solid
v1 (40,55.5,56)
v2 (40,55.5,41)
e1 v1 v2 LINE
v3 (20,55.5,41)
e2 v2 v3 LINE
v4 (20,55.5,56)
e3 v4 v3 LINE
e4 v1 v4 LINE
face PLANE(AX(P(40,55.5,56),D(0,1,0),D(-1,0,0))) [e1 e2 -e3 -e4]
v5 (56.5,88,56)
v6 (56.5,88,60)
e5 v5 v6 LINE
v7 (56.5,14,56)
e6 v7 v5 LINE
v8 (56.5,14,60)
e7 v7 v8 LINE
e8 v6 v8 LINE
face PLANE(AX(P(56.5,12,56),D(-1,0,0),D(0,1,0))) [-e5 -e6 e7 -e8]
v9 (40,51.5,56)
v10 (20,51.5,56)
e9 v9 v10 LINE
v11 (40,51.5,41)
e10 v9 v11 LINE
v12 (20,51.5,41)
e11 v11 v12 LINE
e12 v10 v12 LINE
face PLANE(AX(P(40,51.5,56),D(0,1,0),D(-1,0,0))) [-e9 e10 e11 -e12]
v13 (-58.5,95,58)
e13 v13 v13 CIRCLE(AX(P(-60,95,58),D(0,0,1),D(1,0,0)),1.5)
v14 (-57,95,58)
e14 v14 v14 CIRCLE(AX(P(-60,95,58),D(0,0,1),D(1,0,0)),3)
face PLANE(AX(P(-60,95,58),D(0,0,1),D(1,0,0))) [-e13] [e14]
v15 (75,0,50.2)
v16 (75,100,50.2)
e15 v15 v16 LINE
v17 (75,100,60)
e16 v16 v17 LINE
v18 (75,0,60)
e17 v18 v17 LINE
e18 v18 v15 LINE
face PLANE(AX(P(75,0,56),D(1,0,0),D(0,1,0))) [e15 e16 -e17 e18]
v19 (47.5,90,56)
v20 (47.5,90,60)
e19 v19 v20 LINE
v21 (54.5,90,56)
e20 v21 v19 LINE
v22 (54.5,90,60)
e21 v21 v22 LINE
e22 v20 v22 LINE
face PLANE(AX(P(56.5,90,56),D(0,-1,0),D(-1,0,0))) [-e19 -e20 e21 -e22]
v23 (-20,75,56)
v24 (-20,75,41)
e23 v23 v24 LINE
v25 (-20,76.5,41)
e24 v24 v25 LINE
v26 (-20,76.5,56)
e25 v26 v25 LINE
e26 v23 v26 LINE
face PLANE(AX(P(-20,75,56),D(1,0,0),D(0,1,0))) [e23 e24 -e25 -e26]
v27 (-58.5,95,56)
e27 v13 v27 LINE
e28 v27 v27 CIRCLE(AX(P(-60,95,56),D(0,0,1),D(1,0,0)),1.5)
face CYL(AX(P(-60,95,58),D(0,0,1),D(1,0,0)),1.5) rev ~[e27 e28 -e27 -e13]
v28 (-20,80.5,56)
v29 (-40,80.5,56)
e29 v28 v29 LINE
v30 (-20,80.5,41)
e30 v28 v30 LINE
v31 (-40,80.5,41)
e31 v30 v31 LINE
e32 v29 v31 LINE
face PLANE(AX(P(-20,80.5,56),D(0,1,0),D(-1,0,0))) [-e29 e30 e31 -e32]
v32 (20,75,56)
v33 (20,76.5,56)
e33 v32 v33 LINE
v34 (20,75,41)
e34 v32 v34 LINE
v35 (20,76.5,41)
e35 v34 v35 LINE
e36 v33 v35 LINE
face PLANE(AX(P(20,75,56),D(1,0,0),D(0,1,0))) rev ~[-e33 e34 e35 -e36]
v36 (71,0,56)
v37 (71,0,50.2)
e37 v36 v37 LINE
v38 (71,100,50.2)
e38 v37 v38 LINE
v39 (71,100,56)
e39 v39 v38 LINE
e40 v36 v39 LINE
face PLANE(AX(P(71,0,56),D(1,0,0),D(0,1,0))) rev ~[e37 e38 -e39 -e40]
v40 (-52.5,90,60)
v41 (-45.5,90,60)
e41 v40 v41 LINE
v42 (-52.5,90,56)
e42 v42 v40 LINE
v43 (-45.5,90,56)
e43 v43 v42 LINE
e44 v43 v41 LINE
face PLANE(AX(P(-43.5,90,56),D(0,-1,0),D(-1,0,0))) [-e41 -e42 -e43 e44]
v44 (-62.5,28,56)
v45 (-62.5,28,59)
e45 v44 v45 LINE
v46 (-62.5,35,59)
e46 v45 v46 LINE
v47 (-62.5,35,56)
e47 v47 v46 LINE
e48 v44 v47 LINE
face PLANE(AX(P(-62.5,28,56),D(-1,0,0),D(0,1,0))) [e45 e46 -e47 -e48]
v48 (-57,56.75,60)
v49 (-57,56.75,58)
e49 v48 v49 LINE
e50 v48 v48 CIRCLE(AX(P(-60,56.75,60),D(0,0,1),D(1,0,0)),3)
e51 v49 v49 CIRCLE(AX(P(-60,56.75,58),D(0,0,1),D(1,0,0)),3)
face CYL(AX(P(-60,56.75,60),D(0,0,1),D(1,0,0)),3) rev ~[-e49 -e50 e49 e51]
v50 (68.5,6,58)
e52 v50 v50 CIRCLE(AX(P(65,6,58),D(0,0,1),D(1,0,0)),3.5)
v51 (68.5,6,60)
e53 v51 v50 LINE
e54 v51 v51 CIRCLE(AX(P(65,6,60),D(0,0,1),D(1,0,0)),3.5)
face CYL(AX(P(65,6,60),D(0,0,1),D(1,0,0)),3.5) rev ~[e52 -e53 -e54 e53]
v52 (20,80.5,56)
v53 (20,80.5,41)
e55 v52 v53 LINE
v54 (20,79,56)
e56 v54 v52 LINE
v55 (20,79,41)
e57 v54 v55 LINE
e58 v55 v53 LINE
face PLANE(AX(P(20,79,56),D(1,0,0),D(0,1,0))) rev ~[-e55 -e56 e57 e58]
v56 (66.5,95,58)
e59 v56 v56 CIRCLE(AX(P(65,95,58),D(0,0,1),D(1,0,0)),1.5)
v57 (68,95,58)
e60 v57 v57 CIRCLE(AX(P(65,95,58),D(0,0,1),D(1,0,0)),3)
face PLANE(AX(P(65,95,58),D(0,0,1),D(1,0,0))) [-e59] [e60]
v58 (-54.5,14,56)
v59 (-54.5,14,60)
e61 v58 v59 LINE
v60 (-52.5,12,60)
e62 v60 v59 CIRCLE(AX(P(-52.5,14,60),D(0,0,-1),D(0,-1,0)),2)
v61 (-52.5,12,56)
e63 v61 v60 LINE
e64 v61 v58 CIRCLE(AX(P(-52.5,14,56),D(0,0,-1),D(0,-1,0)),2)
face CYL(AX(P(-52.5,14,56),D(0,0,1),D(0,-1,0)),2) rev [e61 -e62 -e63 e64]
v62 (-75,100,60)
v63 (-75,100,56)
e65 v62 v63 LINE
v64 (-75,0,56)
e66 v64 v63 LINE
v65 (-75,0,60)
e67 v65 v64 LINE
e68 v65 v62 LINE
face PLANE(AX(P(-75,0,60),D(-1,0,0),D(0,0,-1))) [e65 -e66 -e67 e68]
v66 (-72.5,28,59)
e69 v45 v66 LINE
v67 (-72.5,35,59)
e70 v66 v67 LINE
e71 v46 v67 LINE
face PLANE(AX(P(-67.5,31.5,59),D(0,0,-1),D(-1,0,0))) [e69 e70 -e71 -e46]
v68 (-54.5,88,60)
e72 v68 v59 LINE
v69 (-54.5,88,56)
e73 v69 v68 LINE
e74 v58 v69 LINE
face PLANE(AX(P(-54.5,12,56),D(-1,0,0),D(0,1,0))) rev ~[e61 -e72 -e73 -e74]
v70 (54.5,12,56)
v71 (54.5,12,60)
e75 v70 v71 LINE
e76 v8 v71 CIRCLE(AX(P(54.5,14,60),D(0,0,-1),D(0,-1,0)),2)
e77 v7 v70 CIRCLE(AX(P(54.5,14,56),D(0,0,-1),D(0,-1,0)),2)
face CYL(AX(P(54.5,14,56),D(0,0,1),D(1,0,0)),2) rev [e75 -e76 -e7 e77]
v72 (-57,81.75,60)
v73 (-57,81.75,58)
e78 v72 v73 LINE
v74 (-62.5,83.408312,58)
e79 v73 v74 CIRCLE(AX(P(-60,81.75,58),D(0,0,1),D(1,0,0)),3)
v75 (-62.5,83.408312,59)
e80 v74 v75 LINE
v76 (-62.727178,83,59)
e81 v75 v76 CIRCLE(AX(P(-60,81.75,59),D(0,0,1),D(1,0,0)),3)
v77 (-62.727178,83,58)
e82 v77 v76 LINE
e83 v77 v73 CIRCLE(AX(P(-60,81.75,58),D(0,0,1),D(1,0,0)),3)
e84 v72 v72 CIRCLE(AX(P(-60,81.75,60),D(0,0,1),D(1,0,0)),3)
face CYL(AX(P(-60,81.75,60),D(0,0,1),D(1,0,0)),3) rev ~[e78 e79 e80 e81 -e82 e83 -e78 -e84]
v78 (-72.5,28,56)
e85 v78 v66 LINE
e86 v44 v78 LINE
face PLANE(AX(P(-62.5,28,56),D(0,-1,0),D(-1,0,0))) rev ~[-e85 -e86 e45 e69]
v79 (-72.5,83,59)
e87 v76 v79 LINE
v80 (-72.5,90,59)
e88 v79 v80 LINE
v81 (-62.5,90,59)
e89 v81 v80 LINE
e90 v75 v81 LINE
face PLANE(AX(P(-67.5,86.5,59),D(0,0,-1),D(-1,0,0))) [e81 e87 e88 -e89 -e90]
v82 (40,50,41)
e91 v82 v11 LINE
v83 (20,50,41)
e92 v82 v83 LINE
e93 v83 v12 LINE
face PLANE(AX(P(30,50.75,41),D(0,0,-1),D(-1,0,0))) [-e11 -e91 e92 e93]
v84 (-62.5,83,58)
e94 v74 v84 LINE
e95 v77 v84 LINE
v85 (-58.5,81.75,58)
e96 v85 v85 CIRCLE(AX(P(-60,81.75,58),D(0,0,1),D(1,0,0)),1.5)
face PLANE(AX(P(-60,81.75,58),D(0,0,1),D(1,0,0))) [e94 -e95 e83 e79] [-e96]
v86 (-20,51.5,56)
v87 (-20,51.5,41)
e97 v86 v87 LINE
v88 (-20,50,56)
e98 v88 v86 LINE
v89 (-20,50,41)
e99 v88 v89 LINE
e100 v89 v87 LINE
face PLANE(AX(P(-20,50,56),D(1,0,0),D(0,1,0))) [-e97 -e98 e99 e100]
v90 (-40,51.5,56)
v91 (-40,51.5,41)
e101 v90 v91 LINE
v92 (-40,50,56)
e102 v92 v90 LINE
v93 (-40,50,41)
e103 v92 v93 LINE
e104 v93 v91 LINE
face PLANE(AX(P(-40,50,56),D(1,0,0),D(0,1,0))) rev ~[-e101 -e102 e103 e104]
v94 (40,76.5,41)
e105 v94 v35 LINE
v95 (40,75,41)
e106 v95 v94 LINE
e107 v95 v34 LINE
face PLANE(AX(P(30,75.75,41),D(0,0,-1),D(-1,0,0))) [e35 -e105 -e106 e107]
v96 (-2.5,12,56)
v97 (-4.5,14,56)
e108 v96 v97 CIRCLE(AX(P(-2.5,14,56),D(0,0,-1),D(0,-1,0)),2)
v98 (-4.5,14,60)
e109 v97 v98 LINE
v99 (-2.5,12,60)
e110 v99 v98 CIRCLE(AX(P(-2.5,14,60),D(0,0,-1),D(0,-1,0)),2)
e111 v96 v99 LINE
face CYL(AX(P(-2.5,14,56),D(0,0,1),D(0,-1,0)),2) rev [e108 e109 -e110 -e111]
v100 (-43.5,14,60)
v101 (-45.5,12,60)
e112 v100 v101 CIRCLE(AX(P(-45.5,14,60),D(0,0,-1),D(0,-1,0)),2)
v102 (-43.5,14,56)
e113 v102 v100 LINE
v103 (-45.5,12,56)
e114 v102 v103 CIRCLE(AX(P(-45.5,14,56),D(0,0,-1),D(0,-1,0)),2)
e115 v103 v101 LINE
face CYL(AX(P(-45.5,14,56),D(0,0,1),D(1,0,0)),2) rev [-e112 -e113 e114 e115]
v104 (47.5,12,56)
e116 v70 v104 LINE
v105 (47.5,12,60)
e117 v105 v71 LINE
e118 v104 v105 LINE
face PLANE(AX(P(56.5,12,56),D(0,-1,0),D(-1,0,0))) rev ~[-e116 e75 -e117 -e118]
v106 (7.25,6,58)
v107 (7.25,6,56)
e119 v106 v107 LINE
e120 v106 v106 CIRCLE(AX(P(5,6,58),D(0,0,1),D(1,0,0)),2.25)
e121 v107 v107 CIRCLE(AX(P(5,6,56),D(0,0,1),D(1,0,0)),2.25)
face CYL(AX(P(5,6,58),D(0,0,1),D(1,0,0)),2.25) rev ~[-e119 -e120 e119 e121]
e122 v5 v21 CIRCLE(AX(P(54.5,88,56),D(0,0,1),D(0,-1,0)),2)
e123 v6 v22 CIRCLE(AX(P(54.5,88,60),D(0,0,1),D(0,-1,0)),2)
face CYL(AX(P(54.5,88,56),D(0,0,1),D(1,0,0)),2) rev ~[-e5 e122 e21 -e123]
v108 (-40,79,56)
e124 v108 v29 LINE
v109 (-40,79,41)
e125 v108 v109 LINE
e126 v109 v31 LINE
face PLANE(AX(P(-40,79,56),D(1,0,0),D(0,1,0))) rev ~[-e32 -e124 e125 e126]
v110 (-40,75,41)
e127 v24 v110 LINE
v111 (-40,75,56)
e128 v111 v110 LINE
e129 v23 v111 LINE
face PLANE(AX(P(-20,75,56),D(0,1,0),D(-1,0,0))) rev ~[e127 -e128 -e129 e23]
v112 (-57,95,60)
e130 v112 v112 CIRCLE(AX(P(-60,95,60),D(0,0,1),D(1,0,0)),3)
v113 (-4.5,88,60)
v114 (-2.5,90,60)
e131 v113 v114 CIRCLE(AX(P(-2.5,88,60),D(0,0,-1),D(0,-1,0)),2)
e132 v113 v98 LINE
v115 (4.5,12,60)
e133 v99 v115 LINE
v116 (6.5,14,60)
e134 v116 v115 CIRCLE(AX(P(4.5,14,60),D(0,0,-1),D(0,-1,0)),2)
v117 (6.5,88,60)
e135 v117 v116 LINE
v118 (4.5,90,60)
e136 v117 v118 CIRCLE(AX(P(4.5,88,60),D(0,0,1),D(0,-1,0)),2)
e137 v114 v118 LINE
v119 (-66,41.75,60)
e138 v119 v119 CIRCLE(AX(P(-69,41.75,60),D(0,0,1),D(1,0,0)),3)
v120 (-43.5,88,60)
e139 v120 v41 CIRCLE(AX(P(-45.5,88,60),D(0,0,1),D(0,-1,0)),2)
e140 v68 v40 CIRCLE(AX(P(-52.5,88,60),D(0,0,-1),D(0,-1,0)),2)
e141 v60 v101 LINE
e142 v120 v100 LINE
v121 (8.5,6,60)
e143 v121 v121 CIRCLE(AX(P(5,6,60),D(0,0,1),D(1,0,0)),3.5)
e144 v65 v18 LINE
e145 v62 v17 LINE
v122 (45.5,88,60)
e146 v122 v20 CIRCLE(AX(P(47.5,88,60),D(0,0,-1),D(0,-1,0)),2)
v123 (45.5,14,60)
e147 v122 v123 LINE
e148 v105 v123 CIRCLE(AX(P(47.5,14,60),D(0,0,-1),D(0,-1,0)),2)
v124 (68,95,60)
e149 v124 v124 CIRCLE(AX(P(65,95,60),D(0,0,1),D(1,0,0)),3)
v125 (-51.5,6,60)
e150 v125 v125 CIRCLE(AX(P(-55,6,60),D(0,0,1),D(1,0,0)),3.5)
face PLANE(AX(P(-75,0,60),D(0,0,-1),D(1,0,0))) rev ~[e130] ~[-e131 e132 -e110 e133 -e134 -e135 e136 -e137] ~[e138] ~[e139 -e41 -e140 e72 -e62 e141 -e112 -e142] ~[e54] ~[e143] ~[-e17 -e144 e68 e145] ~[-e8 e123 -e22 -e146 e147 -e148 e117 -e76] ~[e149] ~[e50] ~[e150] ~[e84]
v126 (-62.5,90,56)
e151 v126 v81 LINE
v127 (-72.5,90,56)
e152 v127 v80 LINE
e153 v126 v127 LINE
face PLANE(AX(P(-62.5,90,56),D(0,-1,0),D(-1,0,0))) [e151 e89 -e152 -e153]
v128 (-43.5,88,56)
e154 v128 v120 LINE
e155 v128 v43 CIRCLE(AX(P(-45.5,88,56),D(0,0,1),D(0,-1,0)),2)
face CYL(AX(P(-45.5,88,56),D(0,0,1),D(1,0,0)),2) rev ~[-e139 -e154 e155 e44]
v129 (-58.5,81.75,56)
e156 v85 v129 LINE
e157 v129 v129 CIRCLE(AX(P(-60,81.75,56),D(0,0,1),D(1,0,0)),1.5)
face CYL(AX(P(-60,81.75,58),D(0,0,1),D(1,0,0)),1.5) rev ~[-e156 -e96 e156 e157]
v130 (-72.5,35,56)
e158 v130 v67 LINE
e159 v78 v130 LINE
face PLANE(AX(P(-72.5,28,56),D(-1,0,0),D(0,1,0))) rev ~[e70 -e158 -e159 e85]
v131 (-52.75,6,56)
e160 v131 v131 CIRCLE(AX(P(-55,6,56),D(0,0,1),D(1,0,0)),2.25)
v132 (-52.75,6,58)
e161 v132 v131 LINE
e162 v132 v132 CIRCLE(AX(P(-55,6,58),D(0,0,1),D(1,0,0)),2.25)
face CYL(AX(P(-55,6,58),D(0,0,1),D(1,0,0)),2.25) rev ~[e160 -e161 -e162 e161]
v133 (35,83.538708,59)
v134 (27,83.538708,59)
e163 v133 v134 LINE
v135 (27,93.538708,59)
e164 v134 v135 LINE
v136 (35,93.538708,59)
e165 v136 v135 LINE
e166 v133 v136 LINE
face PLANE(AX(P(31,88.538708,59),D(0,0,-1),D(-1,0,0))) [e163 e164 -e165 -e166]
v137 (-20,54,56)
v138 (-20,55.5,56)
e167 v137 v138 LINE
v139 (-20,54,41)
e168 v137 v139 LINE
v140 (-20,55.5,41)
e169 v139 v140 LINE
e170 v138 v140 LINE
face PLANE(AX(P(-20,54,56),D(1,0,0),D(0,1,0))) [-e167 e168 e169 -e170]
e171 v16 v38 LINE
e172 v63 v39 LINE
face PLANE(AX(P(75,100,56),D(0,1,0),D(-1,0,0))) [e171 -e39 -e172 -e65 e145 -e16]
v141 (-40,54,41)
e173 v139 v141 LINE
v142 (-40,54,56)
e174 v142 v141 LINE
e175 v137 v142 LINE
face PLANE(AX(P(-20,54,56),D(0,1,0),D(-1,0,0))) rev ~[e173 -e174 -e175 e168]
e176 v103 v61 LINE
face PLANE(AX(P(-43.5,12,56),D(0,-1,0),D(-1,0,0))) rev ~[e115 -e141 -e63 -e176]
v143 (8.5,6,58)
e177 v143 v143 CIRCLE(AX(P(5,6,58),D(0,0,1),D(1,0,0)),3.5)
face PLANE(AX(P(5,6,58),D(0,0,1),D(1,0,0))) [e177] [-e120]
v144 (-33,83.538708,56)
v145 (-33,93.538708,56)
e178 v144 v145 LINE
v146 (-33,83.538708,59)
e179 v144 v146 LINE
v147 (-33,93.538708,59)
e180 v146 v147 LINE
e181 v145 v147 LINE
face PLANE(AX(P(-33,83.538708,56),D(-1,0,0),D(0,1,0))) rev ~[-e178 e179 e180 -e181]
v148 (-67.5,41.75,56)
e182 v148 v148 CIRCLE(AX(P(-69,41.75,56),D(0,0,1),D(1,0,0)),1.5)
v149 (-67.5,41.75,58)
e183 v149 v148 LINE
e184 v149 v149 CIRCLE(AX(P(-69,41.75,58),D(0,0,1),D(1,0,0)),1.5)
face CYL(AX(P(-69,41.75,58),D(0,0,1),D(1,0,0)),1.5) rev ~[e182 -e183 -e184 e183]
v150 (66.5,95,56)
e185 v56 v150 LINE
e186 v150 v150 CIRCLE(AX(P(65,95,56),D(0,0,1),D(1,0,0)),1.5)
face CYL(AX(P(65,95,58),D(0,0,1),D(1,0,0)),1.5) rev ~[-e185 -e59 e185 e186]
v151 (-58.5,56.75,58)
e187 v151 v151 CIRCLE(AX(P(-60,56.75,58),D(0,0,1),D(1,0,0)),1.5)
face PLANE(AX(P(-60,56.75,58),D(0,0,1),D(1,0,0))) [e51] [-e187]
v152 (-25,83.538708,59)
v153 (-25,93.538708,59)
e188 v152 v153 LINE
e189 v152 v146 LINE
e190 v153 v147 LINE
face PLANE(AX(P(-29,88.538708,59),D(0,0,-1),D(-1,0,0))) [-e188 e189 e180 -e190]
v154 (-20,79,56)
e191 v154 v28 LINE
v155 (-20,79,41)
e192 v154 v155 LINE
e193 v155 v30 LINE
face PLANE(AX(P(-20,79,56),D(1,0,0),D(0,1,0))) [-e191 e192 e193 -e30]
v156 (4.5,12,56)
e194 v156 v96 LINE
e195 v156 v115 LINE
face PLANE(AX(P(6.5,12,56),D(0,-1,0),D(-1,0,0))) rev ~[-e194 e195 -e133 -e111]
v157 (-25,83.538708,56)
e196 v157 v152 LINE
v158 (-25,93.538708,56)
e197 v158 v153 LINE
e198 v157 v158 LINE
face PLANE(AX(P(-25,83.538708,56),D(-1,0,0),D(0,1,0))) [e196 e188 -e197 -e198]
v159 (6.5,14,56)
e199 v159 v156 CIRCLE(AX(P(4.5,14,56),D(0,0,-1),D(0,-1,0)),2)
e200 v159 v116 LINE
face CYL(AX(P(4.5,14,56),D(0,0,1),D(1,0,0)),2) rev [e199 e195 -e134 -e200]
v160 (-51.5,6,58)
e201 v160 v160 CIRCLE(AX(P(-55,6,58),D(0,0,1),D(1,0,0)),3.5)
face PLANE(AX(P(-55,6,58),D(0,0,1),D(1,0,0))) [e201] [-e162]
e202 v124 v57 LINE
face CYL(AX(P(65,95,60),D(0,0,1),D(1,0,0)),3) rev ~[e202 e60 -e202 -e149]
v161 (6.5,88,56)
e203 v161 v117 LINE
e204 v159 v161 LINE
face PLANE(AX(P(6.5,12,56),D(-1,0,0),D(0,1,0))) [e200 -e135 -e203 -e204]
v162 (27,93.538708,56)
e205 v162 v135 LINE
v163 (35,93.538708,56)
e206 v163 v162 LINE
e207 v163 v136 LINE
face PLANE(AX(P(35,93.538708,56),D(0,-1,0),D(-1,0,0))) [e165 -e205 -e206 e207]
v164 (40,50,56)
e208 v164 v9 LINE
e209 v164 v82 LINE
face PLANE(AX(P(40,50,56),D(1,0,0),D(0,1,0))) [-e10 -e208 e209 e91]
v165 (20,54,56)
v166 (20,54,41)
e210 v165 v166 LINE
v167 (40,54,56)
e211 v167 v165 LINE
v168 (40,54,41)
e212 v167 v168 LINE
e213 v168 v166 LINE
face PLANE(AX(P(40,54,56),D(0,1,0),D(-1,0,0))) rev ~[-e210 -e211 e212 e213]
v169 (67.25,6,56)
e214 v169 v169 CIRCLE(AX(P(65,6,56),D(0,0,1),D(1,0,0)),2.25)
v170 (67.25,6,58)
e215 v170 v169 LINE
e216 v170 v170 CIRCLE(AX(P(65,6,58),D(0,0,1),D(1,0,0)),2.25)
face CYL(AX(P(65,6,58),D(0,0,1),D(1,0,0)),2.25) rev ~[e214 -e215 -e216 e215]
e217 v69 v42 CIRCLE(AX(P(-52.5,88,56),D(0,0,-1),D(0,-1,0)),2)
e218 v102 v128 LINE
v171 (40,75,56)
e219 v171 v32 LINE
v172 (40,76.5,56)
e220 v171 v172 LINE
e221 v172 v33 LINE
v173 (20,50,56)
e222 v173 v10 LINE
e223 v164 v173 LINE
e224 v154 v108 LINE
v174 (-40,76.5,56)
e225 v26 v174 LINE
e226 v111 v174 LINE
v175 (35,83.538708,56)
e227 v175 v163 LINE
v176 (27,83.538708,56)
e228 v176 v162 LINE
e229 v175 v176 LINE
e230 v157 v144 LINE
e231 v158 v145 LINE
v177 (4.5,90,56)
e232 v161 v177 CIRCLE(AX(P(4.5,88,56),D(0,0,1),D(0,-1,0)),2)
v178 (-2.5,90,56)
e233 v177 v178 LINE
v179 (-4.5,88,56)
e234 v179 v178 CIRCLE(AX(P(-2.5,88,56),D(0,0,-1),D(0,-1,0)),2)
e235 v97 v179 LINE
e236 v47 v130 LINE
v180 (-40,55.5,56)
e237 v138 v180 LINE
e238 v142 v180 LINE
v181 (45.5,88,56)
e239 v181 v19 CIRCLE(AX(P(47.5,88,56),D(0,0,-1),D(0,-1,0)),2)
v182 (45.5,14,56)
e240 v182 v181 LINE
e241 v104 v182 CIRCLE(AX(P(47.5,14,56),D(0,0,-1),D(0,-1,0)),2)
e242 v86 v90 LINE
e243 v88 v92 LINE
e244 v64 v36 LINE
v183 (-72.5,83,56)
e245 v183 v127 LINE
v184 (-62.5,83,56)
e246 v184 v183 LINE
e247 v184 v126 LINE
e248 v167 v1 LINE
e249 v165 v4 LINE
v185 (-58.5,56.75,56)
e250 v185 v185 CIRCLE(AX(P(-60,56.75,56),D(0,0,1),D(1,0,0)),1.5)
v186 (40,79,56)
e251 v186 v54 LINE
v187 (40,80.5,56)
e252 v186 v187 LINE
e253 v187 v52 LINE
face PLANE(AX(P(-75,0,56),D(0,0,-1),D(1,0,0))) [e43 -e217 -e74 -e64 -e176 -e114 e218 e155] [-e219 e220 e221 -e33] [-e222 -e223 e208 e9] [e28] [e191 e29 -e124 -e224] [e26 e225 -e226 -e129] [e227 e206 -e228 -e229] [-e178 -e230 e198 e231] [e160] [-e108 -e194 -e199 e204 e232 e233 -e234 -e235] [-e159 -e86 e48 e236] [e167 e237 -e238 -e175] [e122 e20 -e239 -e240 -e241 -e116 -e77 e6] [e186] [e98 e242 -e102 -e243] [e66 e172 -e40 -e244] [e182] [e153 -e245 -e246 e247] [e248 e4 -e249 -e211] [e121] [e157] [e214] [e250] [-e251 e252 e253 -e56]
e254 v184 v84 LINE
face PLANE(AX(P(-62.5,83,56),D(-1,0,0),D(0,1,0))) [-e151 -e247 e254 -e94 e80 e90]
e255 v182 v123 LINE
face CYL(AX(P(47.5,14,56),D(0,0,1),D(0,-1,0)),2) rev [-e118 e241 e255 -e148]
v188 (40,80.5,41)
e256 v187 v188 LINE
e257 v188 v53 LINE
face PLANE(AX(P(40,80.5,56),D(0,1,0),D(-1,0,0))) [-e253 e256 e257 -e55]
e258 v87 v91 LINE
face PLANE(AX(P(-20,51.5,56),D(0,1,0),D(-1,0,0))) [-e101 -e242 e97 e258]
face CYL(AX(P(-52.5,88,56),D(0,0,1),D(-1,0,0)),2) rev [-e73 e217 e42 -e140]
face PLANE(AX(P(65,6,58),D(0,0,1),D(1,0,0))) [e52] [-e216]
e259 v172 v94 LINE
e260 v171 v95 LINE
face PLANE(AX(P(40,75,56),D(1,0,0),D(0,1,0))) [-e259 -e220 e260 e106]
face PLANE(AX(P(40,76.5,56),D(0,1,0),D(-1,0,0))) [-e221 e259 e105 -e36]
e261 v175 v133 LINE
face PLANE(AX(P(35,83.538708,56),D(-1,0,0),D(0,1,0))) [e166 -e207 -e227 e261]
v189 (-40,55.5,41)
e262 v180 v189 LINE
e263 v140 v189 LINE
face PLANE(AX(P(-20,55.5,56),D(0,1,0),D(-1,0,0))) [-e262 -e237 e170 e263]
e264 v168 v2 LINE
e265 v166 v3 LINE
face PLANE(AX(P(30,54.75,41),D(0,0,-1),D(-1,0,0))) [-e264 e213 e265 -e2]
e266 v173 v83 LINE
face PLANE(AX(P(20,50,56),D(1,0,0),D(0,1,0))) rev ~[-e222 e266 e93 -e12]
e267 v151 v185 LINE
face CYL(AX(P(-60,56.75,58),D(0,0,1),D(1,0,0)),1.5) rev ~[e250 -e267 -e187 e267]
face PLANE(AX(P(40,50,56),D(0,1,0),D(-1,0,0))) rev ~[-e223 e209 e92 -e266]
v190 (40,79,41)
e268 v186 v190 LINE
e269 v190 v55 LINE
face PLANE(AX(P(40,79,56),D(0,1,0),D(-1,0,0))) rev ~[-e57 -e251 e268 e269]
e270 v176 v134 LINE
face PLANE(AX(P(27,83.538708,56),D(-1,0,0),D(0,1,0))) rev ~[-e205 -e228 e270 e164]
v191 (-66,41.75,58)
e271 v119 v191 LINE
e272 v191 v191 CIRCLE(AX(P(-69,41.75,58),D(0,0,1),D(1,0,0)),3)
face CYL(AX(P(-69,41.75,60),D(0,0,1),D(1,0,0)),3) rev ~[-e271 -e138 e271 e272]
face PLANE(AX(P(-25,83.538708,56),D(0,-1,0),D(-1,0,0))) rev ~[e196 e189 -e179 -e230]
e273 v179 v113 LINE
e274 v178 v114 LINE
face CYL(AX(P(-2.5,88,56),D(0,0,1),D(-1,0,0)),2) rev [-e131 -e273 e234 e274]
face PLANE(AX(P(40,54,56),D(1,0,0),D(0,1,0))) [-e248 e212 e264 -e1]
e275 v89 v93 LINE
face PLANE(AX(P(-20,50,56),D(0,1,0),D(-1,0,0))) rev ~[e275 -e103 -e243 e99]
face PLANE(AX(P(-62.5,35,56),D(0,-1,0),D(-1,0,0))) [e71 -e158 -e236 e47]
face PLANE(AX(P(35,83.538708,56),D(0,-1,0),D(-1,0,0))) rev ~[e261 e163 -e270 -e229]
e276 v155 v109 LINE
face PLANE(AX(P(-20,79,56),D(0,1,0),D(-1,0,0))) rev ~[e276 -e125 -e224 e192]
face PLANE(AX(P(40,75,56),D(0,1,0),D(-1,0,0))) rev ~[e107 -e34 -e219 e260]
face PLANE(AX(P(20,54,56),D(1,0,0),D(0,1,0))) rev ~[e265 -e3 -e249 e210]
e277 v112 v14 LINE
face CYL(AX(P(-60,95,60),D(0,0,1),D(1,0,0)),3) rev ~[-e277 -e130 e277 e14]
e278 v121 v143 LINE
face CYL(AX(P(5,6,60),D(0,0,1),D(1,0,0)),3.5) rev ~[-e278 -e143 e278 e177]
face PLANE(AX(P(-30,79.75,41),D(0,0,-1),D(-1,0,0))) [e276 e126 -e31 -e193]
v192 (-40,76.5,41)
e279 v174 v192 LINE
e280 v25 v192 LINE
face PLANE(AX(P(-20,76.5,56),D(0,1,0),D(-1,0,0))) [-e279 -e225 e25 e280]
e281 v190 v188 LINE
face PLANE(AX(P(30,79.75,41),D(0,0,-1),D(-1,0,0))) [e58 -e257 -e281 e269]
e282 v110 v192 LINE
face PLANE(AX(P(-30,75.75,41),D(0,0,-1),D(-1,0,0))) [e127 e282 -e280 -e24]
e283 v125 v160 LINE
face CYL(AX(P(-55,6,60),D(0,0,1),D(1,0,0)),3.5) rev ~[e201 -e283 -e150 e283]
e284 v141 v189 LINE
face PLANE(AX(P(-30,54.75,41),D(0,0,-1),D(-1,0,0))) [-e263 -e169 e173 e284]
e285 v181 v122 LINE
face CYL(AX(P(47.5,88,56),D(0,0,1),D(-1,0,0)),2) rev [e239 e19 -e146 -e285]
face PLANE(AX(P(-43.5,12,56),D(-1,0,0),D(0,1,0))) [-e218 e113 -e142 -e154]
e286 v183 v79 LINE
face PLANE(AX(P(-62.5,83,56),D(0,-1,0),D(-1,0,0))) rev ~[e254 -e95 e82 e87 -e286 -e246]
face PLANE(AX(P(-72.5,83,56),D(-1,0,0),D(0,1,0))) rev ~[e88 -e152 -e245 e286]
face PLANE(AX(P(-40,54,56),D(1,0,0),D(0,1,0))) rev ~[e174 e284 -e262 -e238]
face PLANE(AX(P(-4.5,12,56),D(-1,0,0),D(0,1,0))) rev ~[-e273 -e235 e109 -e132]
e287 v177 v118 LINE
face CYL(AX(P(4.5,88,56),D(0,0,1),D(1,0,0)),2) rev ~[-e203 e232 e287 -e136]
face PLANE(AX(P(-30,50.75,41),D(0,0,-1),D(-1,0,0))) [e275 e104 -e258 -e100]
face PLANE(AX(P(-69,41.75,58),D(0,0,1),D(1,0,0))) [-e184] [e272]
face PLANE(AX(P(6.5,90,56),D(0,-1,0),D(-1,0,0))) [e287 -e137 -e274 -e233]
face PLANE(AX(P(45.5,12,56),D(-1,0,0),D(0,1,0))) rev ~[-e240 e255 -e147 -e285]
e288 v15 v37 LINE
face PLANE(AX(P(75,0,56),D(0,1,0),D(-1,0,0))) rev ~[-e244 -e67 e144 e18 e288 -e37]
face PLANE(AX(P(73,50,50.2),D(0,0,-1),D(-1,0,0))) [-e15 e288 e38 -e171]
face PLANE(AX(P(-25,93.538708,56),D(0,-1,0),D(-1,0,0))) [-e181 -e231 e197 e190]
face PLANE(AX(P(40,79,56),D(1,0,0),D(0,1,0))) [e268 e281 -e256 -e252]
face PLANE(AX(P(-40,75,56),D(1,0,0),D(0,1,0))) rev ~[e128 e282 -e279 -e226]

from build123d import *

# Parameters (mm, degrees)
SKETCH1_W                 = 150
SKETCH1_H                 = 4
BOSS_EXTRUDE1_DEPTH       = 100
SKETCH9_W                 = 4
SKETCH9_H                 = 100
BOSS_EXTRUDE4_DEPTH       = 5.8
SKETCH10_W                = 20
SKETCH10_H                = 1.5
BOSS_EXTRUDE5_DEPTH       = 15
LPATTERN1_COUNT           = 2
LPATTERN1_PITCH           = 60
LPATTERN2_COUNT           = 2
LPATTERN2_PITCH           = 25
LPATTERN2_COPY_1_SKETCH_W = 20
LPATTERN2_COPY_1_SKETCH_H = 1.5
LPATTERN2_COPY_1_DEPTH    = 15
LPATTERN3_COUNT           = 2
LPATTERN3_PITCH           = 4
LPATTERN3_COPY_1_SKETCH_W = 20
LPATTERN3_COPY_1_SKETCH_H = 1.5
LPATTERN3_COPY_1_DEPTH    = 15
LPATTERN3_COPY_2_SKETCH_W = 20
LPATTERN3_COPY_2_SKETCH_H = 1.5
LPATTERN3_COPY_2_DEPTH    = 15
LPATTERN3_COPY_3_SKETCH_W = 20
LPATTERN3_COPY_3_SKETCH_H = 1.5
LPATTERN3_COPY_3_DEPTH    = 15
SKETCH12_R                = 3.5
CUT_EXTRUDE2_DEPTH        = 2
CUT_EXTRUDE3_REACH        = 216.198
SKETCH14_R                = 2.25
LPATTERN4_COUNT           = 3
LPATTERN4_PITCH           = 60
SKETCH16_R                = 3
CUT_EXTRUDE4_DEPTH        = 2
CUT_EXTRUDE5_REACH        = 125.072
SKETCH18_R                = 1.5
LPATTERN5_COUNT           = 2
LPATTERN5_PITCH           = 25
SKETCH19_W                = 10
SKETCH19_H                = 7
CUT_EXTRUDE6_DEPTH        = 3
LPATTERN6_COUNT           = 2
LPATTERN6_PITCH           = 55
CUT_EXTRUDE7_REACH        = 127.897
SKETCH20_W                = 11
SKETCH20_H                = 78
FILLET4_R                 = 2
LPATTERN7_COUNT           = 3
LPATTERN7_PITCH           = 50
FILLET4_OF_LPATTERN7_R    = 2
SKETCH21_W                = 8
SKETCH21_H                = 10
CUT_EXTRUDE8_DEPTH        = 3
LPATTERN8_COUNT           = 2
LPATTERN8_PITCH           = 60
SKETCH23_R                = 3
CUT_EXTRUDE9_DEPTH        = 2
CUT_EXTRUDE10_REACH       = 106.668
SKETCH25_R                = 1.5
SKETCH27_R                = 3
CUT_EXTRUDE11_DEPTH       = 2
CUT_EXTRUDE12_REACH       = 131.476
SKETCH29_R                = 1.5
LPATTERN10_COUNT          = 2
LPATTERN10_PITCH          = 125


with BuildPart() as part:
    # Sketch1 → Boss-Extrude1 (new body)
    with BuildSketch(Plane(origin=(0, 0, 0), x_dir=(1, 0, 0), z_dir=(0, 1, 0))):
        with Locations((0, -58)):
            Rectangle(SKETCH1_W, SKETCH1_H)
    extrude(amount=BOSS_EXTRUDE1_DEPTH)

    # Sketch9 → Boss-Extrude4 (add)
    with BuildSketch(Plane(origin=(0, 0, 56), x_dir=(-1, 0, 0), z_dir=(0, 0, -1))):
        with Locations((-73, 50)):
            Rectangle(SKETCH9_W, SKETCH9_H)
    extrude(amount=BOSS_EXTRUDE4_DEPTH)

    # Sketch10 → Boss-Extrude5 (add)
    with BuildSketch(Plane(origin=(0, 0, 56), x_dir=(-1, 0, 0), z_dir=(0, 0, -1))):
        with Locations((-30, 50.75)):
            Rectangle(SKETCH10_W, SKETCH10_H)
    boss_extrude5 = extrude(amount=BOSS_EXTRUDE5_DEPTH)

    # LPattern1: Boss-Extrude5 ×2
    with Locations(*[(-i * LPATTERN1_PITCH, 0, 0) for i in range(1, LPATTERN1_COUNT)]):
        add(boss_extrude5)

    # LPattern2: Boss-Extrude5 ×2
    with Locations(*[(0, i * LPATTERN2_PITCH, 0) for i in range(1, LPATTERN2_COUNT)]):
        add(boss_extrude5)

    # LPattern2 copy 1 sketch → LPattern2 copy 1 (add)
    with BuildSketch(Plane(origin=(-60, 25, 56), x_dir=(-1, 0, 0), z_dir=(0, 0, -1))):
        with Locations((-30, 50.75)):
            Rectangle(LPATTERN2_COPY_1_SKETCH_W, LPATTERN2_COPY_1_SKETCH_H)
    extrude(amount=LPATTERN2_COPY_1_DEPTH)

    # LPattern3: Boss-Extrude5 ×2
    with Locations(*[(0, i * LPATTERN3_PITCH, 0) for i in range(1, LPATTERN3_COUNT)]):
        add(boss_extrude5)

    # LPattern3 copy 1 sketch → LPattern3 copy 1 (add)
    with BuildSketch(Plane(origin=(-60, 4, 56), x_dir=(-1, 0, 0), z_dir=(0, 0, -1))):
        with Locations((-30, 50.75)):
            Rectangle(LPATTERN3_COPY_1_SKETCH_W, LPATTERN3_COPY_1_SKETCH_H)
    extrude(amount=LPATTERN3_COPY_1_DEPTH)

    # LPattern3 copy 2 sketch → LPattern3 copy 2 (add)
    with BuildSketch(Plane(origin=(0, 29, 56), x_dir=(-1, 0, 0), z_dir=(0, 0, -1))):
        with Locations((-30, 50.75)):
            Rectangle(LPATTERN3_COPY_2_SKETCH_W, LPATTERN3_COPY_2_SKETCH_H)
    extrude(amount=LPATTERN3_COPY_2_DEPTH)

    # LPattern3 copy 3 sketch → LPattern3 copy 3 (add)
    with BuildSketch(Plane(origin=(-60, 29, 56), x_dir=(-1, 0, 0), z_dir=(0, 0, -1))):
        with Locations((-30, 50.75)):
            Rectangle(LPATTERN3_COPY_3_SKETCH_W, LPATTERN3_COPY_3_SKETCH_H)
    extrude(amount=LPATTERN3_COPY_3_DEPTH)

    # Sketch12 → Cut-Extrude2 (cut)
    with BuildSketch(Plane(origin=(118.42090966, 9.556382744, 60), x_dir=(1, 0, 0), z_dir=(0, 0, 1))):
        with Locations((-53.42090966, -3.556382744)):
            Circle(SKETCH12_R)
    cut_extrude2 = extrude(amount=-CUT_EXTRUDE2_DEPTH, mode=Mode.SUBTRACT)

    # Sketch14 → Cut-Extrude3 (cut, up to next)
    with BuildSketch(Plane(origin=(118.42090966, 9.556382744, 58), x_dir=(1, 0, 0), z_dir=(0, 0, 1)), mode=Mode.PRIVATE) as cut_extrude3_sk1:
        with Locations((-53.42090966, -3.556382744)):
            Circle(SKETCH14_R)
    cut_extrude3_tool1 = extrude(cut_extrude3_sk1.sketch, amount=-CUT_EXTRUDE3_REACH, mode=Mode.PRIVATE) & part.part
    cut_extrude3 = cut_extrude3_tool1.solids().sort_by_distance((65, 6, 58))[0]
    add(cut_extrude3, mode=Mode.SUBTRACT)

    # LPattern4: Cut-Extrude2, Cut-Extrude3 ×3
    with Locations(*[(-i * LPATTERN4_PITCH, 0, 0) for i in range(1, LPATTERN4_COUNT)]):
        add(cut_extrude2, mode=Mode.SUBTRACT)
        add(cut_extrude3, mode=Mode.SUBTRACT)

    # Sketch16 → Cut-Extrude4 (cut)
    with BuildSketch(Plane(origin=(-5.380870304, 91.632593669, 60), x_dir=(1, 0, 0), z_dir=(0, 0, 1))):
        with Locations((-54.619129696, -9.882593669)):
            Circle(SKETCH16_R)
    cut_extrude4 = extrude(amount=-CUT_EXTRUDE4_DEPTH, mode=Mode.SUBTRACT)

    # Sketch18 → Cut-Extrude5 (cut, up to next)
    with BuildSketch(Plane(origin=(-5.380870304, 91.632593669, 58), x_dir=(1, 0, 0), z_dir=(0, 0, 1)), mode=Mode.PRIVATE) as cut_extrude5_sk1:
        with Locations((-54.619129696, -9.882593669)):
            Circle(SKETCH18_R)
    cut_extrude5_tool1 = extrude(cut_extrude5_sk1.sketch, amount=-CUT_EXTRUDE5_REACH, mode=Mode.PRIVATE) & part.part
    cut_extrude5 = cut_extrude5_tool1.solids().sort_by_distance((-60, 81.75, 58))[0]
    add(cut_extrude5, mode=Mode.SUBTRACT)

    # LPattern5: Cut-Extrude4, Cut-Extrude5 ×2
    with Locations(*[(0, -i * LPATTERN5_PITCH, 0) for i in range(1, LPATTERN5_COUNT)]):
        add(cut_extrude4, mode=Mode.SUBTRACT)
        add(cut_extrude5, mode=Mode.SUBTRACT)

    # Sketch19 → Cut-Extrude6 (cut)
    with BuildSketch(Plane(origin=(0, 0, 56), x_dir=(-1, 0, 0), z_dir=(0, 0, -1))):
        with Locations((67.5, 86.5)):
            Rectangle(SKETCH19_W, SKETCH19_H)
    cut_extrude6 = extrude(amount=-CUT_EXTRUDE6_DEPTH, mode=Mode.SUBTRACT)

    # LPattern6: Cut-Extrude6 ×2
    with Locations(*[(0, -i * LPATTERN6_PITCH, 0) for i in range(1, LPATTERN6_COUNT)]):
        add(cut_extrude6, mode=Mode.SUBTRACT)

    # Sketch20 → Cut-Extrude7 (cut, up to next)
    with BuildSketch(Plane(origin=(0, 0, 56), x_dir=(-1, 0, 0), z_dir=(0, 0, -1)), mode=Mode.PRIVATE) as cut_extrude7_sk1:
        with Locations((49, 51)):
            Rectangle(SKETCH20_W, SKETCH20_H)
    cut_extrude7_tool1 = extrude(cut_extrude7_sk1.sketch, amount=-CUT_EXTRUDE7_REACH, mode=Mode.PRIVATE) & part.part
    cut_extrude7 = cut_extrude7_tool1.solids().sort_by_distance((-49, 51, 56))[0]
    add(cut_extrude7, mode=Mode.SUBTRACT)

    # Fillet4
    fillet4_edges = [part.edges().sort_by_distance(p)[0] for p in [
        (-43.5, 12, 58),
        (-43.5, 90, 58),
        (-54.5, 90, 58),
        (-54.5, 12, 58),
    ]]
    fillet(fillet4_edges, radius=FILLET4_R)

    # LPattern7: Cut-Extrude7 ×3
    with Locations(*[(i * LPATTERN7_PITCH, 0, 0) for i in range(1, LPATTERN7_COUNT)]):
        add(cut_extrude7, mode=Mode.SUBTRACT)

    # Fillet4 of LPattern7
    fillet4_of_lpattern7_edges = [part.edges().sort_by_distance(p)[0] for p in [
        (6.5, 12, 58),
        (6.5, 90, 58),
        (-4.5, 90, 58),
        (-4.5, 12, 58),
        (56.5, 12, 58),
        (56.5, 90, 58),
        (45.5, 90, 58),
        (45.5, 12, 58),
    ]]
    fillet(fillet4_of_lpattern7_edges, radius=FILLET4_OF_LPATTERN7_R)

    # Sketch21 → Cut-Extrude8 (cut)
    with BuildSketch(Plane(origin=(0, 0, 56), x_dir=(-1, 0, 0), z_dir=(0, 0, -1))):
        with Locations((29, 88.538707867)):
            Rectangle(SKETCH21_W, SKETCH21_H)
    cut_extrude8 = extrude(amount=-CUT_EXTRUDE8_DEPTH, mode=Mode.SUBTRACT)

    # LPattern8: Cut-Extrude8 ×2
    with Locations(*[(i * LPATTERN8_PITCH, 0, 0) for i in range(1, LPATTERN8_COUNT)]):
        add(cut_extrude8, mode=Mode.SUBTRACT)

    # Sketch23 → Cut-Extrude9 (cut)
    with BuildSketch(Plane(origin=(-14.094781426, 47.764709476, 60), x_dir=(1, 0, 0), z_dir=(0, 0, 1))):
        with Locations((-54.905218574, -6.014709476)):
            Circle(SKETCH23_R)
    extrude(amount=-CUT_EXTRUDE9_DEPTH, mode=Mode.SUBTRACT)

    # Sketch25 → Cut-Extrude10 (cut, up to next)
    with BuildSketch(Plane(origin=(-14.094781426, 47.764709476, 58), x_dir=(1, 0, 0), z_dir=(0, 0, 1)), mode=Mode.PRIVATE) as cut_extrude10_sk1:
        with Locations((-54.905218574, -6.014709476)):
            Circle(SKETCH25_R)
    cut_extrude10_tool1 = extrude(cut_extrude10_sk1.sketch, amount=-CUT_EXTRUDE10_REACH, mode=Mode.PRIVATE) & part.part
    add(cut_extrude10_tool1.solids().sort_by_distance((-69, 41.75, 58))[0], mode=Mode.SUBTRACT)

    # Sketch27 → Cut-Extrude11 (cut)
    with BuildSketch(Plane(origin=(-5.434124332, 100.026831424, 60), x_dir=(1, 0, 0), z_dir=(0, 0, 1))):
        with Locations((-54.565875668, -5.026831424)):
            Circle(SKETCH27_R)
    cut_extrude11 = extrude(amount=-CUT_EXTRUDE11_DEPTH, mode=Mode.SUBTRACT)

    # Sketch29 → Cut-Extrude12 (cut, up to next)
    with BuildSketch(Plane(origin=(-5.434124332, 100.026831424, 58), x_dir=(1, 0, 0), z_dir=(0, 0, 1)), mode=Mode.PRIVATE) as cut_extrude12_sk1:
        with Locations((-54.565875668, -5.026831424)):
            Circle(SKETCH29_R)
    cut_extrude12_tool1 = extrude(cut_extrude12_sk1.sketch, amount=-CUT_EXTRUDE12_REACH, mode=Mode.PRIVATE) & part.part
    cut_extrude12 = cut_extrude12_tool1.solids().sort_by_distance((-60, 95, 58))[0]
    add(cut_extrude12, mode=Mode.SUBTRACT)

    # LPattern10: Cut-Extrude11, Cut-Extrude12 ×2
    with Locations(*[(i * LPATTERN10_PITCH, 0, 0) for i in range(1, LPATTERN10_COUNT)]):
        add(cut_extrude11, mode=Mode.SUBTRACT)
        add(cut_extrude12, mode=Mode.SUBTRACT)


solid = part.part
